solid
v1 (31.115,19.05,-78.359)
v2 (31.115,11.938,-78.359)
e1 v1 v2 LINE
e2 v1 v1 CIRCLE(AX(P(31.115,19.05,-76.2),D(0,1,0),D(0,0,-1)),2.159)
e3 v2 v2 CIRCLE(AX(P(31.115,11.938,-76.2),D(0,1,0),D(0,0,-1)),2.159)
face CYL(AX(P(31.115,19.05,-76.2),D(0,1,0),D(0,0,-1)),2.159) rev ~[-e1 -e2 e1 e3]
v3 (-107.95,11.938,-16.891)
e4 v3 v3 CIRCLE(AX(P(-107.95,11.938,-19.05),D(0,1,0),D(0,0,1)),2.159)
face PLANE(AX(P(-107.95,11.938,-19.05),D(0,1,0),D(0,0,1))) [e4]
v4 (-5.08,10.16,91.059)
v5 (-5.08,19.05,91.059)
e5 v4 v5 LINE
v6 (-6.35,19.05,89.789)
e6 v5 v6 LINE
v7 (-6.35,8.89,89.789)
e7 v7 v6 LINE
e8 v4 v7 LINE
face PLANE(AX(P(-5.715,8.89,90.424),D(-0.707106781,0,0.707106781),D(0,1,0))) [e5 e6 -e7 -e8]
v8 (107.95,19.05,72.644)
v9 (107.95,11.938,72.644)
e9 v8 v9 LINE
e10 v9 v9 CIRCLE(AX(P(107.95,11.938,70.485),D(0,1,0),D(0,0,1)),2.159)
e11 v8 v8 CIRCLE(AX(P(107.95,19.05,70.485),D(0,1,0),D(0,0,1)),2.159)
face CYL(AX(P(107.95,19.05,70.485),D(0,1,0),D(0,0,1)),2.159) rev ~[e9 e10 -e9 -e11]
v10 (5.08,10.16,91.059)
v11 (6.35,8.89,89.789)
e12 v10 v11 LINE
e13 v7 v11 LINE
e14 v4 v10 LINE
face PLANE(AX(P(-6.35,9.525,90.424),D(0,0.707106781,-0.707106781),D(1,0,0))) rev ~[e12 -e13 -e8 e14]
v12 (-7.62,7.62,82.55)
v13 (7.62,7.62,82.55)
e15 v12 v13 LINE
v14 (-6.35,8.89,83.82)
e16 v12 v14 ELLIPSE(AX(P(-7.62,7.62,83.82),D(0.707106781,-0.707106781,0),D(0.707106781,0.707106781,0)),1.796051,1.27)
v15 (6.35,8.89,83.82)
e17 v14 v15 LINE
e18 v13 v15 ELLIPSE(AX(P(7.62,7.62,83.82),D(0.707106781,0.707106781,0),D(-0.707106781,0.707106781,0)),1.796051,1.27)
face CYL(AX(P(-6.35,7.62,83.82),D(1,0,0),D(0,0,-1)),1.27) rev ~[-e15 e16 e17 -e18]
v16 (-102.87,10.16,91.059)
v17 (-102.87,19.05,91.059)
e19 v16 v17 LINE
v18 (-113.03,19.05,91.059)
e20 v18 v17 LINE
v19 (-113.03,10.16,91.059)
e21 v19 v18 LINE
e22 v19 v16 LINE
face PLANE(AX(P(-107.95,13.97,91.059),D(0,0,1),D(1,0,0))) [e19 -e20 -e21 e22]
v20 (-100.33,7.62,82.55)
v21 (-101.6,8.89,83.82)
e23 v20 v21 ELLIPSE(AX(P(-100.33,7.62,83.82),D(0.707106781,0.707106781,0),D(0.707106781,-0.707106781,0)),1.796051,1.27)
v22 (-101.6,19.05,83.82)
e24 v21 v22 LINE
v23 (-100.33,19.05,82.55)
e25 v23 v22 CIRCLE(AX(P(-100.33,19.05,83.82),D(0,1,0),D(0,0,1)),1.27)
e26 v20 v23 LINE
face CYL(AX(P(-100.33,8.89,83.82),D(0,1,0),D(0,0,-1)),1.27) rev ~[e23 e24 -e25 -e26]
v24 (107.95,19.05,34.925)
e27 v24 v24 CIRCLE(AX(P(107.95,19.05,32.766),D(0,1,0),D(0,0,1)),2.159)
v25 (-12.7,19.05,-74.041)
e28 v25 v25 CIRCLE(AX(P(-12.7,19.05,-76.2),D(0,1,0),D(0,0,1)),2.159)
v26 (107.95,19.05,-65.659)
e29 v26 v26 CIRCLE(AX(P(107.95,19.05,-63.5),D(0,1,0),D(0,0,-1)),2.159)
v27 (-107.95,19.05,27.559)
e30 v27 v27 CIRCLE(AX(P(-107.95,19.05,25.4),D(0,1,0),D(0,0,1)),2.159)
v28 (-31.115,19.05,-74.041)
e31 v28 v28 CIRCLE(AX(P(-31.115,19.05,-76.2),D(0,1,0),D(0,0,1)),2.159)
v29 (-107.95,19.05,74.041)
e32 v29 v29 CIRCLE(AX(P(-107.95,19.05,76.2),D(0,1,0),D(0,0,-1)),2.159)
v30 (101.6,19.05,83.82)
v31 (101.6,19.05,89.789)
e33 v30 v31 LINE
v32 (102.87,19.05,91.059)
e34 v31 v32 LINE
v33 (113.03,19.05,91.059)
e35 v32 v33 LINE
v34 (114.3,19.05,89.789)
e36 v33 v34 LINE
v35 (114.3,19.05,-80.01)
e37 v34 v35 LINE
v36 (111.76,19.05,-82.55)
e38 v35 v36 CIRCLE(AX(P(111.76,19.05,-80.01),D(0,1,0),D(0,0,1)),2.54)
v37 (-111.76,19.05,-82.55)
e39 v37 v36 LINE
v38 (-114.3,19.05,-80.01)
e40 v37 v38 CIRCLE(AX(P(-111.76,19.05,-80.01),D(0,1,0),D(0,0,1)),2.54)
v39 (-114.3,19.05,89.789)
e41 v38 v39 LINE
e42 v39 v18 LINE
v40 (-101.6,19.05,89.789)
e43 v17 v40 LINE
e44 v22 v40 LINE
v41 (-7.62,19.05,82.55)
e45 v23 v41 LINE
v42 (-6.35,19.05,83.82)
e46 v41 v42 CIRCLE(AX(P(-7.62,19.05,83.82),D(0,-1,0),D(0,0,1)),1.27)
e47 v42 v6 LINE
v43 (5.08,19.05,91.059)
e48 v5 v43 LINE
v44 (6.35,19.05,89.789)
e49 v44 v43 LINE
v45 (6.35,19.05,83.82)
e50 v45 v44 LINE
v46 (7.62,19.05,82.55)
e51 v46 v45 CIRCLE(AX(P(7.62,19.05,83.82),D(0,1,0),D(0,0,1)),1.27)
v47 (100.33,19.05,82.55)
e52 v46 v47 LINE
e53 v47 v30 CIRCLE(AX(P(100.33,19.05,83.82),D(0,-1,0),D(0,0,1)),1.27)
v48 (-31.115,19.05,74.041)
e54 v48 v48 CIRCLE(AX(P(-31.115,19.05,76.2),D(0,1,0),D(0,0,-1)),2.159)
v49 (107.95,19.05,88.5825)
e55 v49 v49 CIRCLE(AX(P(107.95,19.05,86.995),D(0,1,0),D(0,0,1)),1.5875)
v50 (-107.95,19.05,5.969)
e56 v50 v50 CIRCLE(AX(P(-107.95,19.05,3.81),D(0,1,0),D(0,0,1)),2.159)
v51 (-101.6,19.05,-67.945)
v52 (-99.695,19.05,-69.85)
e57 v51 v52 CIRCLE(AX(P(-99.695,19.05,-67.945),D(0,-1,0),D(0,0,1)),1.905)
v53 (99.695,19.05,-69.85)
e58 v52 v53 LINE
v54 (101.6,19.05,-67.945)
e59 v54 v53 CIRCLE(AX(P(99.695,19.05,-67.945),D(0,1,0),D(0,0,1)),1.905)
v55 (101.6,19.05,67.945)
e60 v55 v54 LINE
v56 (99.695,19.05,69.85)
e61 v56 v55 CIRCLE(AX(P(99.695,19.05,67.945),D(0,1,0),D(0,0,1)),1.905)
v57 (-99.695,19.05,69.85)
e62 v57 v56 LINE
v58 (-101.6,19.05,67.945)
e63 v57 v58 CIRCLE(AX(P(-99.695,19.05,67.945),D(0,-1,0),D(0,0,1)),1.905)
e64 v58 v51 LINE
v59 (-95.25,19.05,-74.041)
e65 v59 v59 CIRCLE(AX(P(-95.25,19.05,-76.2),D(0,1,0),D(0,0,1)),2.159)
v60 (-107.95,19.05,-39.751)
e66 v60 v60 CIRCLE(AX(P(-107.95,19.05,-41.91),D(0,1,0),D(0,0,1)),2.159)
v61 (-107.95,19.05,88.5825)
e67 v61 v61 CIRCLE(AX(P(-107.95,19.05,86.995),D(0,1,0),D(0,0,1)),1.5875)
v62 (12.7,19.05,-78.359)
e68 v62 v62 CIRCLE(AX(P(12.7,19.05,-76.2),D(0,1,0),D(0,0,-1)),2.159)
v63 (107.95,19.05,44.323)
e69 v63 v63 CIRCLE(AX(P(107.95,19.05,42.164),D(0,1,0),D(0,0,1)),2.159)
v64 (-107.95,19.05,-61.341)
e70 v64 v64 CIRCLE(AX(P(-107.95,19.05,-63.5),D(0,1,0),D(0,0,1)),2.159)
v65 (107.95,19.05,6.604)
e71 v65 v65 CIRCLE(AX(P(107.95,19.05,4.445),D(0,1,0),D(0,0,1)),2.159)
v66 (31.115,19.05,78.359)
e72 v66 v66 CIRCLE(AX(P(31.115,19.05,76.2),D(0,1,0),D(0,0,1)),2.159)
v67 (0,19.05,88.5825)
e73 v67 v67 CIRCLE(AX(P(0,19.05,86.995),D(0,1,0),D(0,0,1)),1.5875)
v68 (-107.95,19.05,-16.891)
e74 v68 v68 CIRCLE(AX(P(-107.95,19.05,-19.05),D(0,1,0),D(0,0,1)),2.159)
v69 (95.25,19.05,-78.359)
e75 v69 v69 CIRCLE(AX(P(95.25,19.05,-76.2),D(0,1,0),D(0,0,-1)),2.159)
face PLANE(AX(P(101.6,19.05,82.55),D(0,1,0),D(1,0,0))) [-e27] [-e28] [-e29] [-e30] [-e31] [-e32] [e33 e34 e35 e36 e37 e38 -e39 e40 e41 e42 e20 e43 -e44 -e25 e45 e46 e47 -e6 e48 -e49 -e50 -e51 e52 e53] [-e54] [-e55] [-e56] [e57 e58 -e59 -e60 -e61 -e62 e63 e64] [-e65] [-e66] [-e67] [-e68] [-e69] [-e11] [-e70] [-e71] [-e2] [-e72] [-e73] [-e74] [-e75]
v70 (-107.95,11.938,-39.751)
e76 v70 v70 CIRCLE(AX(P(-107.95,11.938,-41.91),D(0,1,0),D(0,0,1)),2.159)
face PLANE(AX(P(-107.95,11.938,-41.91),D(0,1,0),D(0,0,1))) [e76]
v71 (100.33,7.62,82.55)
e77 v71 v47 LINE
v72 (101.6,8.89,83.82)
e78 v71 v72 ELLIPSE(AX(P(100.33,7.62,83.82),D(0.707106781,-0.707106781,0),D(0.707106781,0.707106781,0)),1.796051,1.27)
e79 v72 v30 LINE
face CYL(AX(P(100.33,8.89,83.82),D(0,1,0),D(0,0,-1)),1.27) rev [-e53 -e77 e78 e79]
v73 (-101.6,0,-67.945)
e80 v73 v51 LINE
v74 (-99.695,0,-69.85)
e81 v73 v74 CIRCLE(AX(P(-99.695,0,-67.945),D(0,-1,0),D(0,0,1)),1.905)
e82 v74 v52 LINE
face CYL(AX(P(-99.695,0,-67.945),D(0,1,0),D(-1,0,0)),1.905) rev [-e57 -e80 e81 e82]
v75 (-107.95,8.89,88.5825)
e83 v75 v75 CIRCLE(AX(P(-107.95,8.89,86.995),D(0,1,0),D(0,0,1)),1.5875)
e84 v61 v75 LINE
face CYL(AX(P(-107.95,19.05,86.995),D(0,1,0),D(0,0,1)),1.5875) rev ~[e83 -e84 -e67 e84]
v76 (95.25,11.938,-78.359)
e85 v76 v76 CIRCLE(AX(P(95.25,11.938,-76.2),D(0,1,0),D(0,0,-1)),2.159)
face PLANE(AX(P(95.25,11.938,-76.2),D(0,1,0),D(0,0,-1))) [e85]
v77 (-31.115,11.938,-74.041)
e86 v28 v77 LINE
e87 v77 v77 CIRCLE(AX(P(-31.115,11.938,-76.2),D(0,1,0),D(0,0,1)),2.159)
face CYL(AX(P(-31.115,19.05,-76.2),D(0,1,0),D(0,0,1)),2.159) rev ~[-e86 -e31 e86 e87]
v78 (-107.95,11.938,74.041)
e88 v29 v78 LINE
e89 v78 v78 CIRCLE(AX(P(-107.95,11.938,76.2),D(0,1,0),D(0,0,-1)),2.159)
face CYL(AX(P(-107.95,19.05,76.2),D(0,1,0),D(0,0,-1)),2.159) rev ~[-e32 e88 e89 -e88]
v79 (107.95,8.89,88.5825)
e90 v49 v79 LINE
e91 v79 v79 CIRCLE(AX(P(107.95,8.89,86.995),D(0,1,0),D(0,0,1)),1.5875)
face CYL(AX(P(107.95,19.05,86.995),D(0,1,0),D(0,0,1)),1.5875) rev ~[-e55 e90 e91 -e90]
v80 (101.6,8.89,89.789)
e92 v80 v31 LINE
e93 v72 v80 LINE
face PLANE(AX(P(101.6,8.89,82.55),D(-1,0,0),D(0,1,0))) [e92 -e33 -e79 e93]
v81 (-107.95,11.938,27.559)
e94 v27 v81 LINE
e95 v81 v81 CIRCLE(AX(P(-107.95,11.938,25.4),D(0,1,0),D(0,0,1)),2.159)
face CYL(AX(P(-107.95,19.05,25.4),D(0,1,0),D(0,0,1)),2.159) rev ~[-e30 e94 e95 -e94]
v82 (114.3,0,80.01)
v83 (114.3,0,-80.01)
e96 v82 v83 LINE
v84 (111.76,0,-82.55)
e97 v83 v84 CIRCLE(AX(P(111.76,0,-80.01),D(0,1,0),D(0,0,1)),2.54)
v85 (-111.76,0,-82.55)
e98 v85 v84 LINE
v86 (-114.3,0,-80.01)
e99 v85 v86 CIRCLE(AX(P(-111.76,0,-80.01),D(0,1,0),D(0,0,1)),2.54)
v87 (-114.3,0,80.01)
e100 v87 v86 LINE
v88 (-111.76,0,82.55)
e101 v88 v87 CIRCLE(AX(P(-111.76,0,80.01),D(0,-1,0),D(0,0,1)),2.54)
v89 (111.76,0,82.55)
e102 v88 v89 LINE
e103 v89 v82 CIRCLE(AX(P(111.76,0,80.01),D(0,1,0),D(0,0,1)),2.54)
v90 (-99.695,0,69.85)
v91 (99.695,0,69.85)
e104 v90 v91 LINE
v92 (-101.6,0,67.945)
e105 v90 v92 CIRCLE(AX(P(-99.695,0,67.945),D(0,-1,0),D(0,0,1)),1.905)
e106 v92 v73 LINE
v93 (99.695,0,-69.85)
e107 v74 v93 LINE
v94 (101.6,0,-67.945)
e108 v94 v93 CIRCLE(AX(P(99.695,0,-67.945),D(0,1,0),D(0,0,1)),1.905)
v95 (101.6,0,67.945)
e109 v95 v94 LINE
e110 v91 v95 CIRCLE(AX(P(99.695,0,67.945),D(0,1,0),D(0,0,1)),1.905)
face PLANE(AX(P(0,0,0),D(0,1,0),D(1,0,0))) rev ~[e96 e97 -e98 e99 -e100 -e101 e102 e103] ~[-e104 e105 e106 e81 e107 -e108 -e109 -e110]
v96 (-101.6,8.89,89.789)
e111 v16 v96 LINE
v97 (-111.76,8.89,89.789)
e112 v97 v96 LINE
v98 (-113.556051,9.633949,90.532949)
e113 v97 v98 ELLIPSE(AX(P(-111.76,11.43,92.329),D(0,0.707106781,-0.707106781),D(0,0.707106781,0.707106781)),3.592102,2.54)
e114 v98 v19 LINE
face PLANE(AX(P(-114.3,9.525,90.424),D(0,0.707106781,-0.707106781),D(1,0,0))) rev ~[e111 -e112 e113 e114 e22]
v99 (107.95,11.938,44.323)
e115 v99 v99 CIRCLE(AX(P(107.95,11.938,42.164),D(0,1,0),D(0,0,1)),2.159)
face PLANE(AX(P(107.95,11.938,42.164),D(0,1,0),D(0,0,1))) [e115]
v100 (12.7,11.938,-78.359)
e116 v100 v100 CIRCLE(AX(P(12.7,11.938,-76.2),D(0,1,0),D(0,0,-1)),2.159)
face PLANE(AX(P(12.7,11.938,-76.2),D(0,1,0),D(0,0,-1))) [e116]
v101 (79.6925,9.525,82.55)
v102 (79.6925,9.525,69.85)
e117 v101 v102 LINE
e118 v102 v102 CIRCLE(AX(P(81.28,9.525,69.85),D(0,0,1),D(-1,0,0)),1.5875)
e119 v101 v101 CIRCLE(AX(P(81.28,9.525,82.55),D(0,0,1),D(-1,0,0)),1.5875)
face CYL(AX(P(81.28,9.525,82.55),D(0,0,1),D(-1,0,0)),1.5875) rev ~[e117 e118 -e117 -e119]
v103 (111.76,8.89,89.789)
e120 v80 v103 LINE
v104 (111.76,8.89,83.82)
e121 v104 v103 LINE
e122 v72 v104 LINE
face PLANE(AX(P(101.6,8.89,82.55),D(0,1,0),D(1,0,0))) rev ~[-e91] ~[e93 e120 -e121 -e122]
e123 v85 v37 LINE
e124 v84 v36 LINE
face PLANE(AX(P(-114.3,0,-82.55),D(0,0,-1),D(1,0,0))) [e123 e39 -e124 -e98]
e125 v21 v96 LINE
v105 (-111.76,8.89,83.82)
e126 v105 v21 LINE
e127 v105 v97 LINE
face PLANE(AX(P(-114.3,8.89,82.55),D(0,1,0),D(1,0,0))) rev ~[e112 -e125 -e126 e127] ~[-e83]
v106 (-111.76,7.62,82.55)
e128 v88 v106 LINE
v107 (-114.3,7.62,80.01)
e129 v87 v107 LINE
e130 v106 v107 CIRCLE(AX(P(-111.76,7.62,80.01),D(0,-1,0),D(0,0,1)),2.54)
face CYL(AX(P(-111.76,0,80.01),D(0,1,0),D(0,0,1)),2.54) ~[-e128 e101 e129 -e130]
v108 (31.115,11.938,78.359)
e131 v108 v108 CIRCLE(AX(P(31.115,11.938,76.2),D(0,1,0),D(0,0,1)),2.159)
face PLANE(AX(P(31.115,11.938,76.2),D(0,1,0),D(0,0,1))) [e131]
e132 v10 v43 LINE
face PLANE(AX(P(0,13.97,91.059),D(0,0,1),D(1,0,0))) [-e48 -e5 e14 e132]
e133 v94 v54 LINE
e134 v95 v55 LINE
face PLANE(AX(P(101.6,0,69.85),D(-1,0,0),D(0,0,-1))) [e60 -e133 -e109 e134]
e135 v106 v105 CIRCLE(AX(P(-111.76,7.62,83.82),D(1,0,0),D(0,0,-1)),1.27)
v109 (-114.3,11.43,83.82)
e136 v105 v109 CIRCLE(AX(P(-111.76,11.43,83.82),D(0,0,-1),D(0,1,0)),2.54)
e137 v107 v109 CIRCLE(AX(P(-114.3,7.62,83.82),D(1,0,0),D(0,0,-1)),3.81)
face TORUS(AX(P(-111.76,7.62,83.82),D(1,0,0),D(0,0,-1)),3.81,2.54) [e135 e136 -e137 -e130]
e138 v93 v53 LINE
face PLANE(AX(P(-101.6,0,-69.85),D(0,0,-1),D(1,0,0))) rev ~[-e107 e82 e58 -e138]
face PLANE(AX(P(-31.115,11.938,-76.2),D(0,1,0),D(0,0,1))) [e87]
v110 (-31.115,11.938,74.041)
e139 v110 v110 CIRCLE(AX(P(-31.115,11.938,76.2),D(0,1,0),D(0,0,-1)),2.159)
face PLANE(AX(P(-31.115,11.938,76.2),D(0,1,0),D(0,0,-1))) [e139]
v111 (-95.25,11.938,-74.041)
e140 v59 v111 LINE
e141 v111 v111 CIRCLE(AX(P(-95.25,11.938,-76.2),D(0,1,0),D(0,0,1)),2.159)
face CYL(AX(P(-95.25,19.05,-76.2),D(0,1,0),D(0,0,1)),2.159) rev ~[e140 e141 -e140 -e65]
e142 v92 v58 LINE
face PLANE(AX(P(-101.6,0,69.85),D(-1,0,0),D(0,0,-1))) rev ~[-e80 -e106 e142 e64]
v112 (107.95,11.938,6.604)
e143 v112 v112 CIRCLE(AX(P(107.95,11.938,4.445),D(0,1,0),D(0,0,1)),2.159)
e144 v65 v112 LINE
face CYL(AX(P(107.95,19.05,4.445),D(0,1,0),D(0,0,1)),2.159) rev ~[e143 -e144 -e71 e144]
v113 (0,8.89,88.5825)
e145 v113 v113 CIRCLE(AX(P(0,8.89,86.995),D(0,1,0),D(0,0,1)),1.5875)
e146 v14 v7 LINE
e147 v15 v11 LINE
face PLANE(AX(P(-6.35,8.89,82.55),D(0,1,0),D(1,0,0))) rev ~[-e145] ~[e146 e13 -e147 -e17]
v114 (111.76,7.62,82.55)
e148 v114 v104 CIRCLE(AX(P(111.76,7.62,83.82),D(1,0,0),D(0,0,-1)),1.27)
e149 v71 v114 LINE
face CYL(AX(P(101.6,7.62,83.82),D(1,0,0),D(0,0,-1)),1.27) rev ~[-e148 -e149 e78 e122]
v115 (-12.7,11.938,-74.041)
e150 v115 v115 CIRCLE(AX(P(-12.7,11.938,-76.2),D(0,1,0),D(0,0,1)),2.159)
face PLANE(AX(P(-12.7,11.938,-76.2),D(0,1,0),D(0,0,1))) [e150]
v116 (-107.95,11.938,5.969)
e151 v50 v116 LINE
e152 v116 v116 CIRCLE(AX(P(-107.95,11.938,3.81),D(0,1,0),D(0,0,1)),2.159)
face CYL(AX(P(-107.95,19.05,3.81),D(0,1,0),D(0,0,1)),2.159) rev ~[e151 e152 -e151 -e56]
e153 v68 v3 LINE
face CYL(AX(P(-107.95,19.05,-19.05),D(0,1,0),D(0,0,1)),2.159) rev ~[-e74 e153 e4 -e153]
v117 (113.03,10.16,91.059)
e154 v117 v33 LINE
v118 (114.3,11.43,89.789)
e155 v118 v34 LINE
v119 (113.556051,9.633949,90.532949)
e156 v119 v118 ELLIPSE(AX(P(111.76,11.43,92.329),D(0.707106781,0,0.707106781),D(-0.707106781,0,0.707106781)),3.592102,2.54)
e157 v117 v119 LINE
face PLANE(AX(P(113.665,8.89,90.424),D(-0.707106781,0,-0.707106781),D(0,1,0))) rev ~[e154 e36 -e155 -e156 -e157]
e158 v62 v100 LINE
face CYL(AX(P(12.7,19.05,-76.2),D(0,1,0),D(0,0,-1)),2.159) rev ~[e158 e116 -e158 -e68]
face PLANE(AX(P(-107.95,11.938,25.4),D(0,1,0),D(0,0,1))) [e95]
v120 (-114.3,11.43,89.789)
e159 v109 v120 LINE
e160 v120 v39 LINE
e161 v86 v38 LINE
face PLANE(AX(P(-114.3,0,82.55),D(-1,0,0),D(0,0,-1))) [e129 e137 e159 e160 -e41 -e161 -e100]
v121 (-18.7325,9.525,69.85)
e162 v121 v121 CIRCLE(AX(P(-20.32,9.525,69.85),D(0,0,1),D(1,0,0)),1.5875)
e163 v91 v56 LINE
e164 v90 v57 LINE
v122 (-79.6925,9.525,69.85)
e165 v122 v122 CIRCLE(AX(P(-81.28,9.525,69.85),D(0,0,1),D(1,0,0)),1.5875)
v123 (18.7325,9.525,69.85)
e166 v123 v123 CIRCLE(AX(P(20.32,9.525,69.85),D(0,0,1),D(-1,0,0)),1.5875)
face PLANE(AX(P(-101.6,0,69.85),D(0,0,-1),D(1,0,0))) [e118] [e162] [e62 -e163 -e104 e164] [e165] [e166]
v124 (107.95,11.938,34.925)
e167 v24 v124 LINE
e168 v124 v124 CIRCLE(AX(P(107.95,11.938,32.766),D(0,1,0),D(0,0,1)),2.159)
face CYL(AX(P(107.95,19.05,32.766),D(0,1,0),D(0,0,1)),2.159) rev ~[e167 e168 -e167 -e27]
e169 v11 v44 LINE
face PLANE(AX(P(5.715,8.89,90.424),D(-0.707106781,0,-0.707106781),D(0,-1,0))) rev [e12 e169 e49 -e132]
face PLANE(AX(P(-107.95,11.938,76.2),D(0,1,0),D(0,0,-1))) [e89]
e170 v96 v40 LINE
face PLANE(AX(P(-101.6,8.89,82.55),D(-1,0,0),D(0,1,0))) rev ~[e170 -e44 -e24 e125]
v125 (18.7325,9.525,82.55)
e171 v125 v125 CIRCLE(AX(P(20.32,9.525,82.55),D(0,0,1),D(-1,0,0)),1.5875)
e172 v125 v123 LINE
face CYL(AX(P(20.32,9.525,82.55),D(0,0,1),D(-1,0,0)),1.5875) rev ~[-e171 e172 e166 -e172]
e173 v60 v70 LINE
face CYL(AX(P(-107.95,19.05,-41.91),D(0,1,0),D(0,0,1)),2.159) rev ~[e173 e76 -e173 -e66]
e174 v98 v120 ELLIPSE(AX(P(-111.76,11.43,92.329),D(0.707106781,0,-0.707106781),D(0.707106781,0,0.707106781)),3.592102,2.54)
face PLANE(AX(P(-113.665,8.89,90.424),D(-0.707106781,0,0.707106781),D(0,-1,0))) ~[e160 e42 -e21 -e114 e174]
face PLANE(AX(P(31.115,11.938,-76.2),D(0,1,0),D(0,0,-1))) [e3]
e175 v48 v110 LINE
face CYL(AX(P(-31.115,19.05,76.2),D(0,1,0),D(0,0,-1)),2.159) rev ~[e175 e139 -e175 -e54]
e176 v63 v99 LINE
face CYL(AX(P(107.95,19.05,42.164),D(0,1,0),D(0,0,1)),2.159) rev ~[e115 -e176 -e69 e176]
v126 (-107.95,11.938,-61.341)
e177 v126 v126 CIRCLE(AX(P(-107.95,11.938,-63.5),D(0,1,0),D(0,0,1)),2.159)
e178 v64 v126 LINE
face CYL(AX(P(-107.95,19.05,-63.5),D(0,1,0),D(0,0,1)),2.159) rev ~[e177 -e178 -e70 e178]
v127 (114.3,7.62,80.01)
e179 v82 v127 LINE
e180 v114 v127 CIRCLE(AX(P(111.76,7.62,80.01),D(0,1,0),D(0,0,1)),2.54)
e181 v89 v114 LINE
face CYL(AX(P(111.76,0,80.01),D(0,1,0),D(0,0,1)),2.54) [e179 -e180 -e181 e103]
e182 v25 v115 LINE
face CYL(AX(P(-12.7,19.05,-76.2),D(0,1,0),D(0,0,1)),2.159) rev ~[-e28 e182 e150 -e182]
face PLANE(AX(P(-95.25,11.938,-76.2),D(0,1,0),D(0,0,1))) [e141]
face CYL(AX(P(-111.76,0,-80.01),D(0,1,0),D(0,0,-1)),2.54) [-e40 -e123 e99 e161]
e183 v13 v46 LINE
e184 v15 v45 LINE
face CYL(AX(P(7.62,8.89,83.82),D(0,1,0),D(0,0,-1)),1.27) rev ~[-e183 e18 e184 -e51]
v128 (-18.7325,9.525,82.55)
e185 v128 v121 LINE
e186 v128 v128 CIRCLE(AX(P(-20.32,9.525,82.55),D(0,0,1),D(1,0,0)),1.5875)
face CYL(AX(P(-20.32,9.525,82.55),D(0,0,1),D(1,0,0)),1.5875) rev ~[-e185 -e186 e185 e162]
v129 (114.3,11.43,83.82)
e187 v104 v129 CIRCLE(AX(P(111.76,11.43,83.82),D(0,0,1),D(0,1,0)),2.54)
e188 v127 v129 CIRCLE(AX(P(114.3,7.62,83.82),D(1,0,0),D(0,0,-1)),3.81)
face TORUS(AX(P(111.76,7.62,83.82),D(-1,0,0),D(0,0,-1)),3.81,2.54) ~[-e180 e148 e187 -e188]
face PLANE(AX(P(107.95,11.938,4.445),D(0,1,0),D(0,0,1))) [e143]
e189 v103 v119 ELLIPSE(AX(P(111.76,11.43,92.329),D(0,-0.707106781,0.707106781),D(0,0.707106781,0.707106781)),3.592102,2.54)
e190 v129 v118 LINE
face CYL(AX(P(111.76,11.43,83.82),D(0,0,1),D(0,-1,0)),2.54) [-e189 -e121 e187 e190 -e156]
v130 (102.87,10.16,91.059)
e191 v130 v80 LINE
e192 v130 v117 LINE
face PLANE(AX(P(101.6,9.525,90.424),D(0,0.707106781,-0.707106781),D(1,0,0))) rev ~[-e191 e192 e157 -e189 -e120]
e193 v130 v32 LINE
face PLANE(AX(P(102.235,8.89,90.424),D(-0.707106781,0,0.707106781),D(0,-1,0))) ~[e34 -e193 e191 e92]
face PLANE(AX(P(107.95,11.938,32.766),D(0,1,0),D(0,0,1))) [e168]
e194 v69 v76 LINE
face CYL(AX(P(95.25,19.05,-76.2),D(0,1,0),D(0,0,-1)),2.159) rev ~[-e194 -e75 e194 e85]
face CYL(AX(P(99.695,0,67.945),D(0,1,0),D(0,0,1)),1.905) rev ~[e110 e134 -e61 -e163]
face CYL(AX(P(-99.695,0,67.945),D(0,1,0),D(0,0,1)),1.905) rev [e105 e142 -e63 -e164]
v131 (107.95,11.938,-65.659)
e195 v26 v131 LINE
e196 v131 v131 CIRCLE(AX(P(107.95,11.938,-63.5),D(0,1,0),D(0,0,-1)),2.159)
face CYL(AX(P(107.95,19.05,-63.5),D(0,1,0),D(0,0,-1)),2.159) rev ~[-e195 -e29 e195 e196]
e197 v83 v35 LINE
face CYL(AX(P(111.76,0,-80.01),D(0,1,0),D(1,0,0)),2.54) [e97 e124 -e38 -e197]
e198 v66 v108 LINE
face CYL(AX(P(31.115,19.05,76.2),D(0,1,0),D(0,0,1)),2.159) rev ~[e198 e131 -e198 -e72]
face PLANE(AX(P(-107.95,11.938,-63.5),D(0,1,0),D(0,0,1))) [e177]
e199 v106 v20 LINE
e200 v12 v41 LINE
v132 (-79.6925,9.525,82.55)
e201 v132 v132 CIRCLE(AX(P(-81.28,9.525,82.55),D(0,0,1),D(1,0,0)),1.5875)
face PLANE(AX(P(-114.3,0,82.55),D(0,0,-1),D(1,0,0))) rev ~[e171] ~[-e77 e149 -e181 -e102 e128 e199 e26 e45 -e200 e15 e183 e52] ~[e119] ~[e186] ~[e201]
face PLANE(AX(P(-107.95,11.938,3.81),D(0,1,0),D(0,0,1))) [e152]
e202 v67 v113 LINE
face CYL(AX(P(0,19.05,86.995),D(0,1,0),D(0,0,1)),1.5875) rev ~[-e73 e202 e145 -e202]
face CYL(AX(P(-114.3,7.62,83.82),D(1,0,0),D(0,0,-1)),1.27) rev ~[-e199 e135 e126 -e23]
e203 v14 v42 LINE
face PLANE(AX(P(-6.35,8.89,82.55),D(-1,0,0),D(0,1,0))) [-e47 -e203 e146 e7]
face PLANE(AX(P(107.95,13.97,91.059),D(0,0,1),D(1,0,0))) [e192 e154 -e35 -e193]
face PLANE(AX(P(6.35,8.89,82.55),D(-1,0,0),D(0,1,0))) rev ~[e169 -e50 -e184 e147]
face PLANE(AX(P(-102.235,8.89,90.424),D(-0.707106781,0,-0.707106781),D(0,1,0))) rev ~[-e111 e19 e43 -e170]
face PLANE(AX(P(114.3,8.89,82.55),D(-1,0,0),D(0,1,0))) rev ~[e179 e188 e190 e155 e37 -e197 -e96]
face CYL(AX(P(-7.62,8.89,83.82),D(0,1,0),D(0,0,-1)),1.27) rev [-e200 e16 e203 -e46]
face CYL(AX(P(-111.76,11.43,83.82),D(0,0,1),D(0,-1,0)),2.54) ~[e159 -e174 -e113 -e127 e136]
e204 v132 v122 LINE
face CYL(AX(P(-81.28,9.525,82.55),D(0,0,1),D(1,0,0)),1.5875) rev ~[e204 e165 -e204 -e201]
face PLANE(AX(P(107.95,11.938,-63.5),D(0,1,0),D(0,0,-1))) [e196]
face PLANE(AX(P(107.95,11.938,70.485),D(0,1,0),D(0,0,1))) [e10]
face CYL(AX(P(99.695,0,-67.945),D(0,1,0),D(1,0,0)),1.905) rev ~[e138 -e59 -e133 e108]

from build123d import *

# Parameters (mm, degrees)
SKETCH1_W                        = 228.6
SKETCH1_H                        = 165.1
SKETCH1_W_2                      = 203.2
SKETCH1_H_2                      = 139.7
FRAME_DEPTH                      = 19.05
SKETCH2_R                        = 2.159
FRONTWALL_MOUNTINGHOLES_DEPTH    = 7.112
SKETCH3_W                        = 12.7
SKETCH3_H                        = 10.16
BOSS_EXTRUDE2_DEPTH              = 8.89
SKETCH4_R                        = 1.5875
CUT_EXTRUDE2_DEPTH               = 148.609844184
SKETCH5_R                        = 1.5875
CUT_EXTRUDE3_DEPTH               = 12.7
FILLET3_R                        = 1.905
SKETCH6_R                        = 2.159
LINKAGE_RHS_MOUNTINGHOLES_DEPTH  = 7.112
SKETCH7_R                        = 2.159
LINKAGE_LHS_MOUNTINGHOLES_DEPTH  = 7.112
SKETCH11_W                       = 12.7
SKETCH11_H                       = 10.16
CUT_EXTRUDE6_DEPTH               = 0.381
FILLET2_R                        = 1.27
CHAMFER1_SIZE                    = 1.27
SKETCH12_R                       = 2.159
CASTER_WHEEL_MOUNT_DEPTH         = 7.112
SKETCH13_R                       = 2.159
FRONTBRACE_MOUNT_DEPTH           = 7.112
SKETCH14_R                       = 2.159
USB_HUB_SWITCH_MOUNT_HOLES_DEPTH = 7.112
FILLET4_R                        = 2.54


with BuildPart() as part:
    # Sketch1 → Frame (new body)
    with BuildSketch(Plane(origin=(0, 0, 0), x_dir=(1, 0, 0), z_dir=(0, 1, 0))):
        Rectangle(SKETCH1_W, SKETCH1_H)
        Rectangle(SKETCH1_W_2, SKETCH1_H_2, mode=Mode.SUBTRACT)
    extrude(amount=FRAME_DEPTH)

    # Sketch2 → FrontWall_mountingHoles (cut)
    with BuildSketch(Plane(origin=(0, 19.05, 0), x_dir=(1, 0, 0), z_dir=(0, 1, 0))):
        with Locations(Location((-95.25, 76.2, 0), (0, 0, 270))):
            Circle(SKETCH2_R)
        with Locations(Location((-107.95, 63.5, 0), (0, 0, 270))):
            Circle(SKETCH2_R)
        with Locations(Location((95.25, 76.2, 0), (0, 0, 90))):
            Circle(SKETCH2_R)
        with Locations(Location((107.95, 63.5, 0), (0, 0, 90))):
            Circle(SKETCH2_R)
    extrude(amount=-FRONTWALL_MOUNTINGHOLES_DEPTH, mode=Mode.SUBTRACT)

    # Sketch3 → Boss-Extrude2 (add)
    with BuildSketch(Plane.XY.offset(82.55)):
        with Locations((107.95, 13.97)):
            Rectangle(SKETCH3_W, SKETCH3_H)
        with Locations((0, 13.97)):
            Rectangle(SKETCH3_W, SKETCH3_H)
        with Locations((-107.95, 13.97)):
            Rectangle(SKETCH3_W, SKETCH3_H)
    extrude(amount=BOSS_EXTRUDE2_DEPTH)

    # Sketch4 → Cut-Extrude2 (cut, through all)
    with BuildSketch(Plane(origin=(0, 19.05, 0), x_dir=(1, 0, 0), z_dir=(0, 1, 0))):
        with Locations(Location((-107.95, -86.995, 0), (0, 0, 270))):
            Circle(SKETCH4_R)
        with Locations(Location((0, -86.995, 0), (0, 0, 270))):
            Circle(SKETCH4_R)
        with Locations(Location((107.95, -86.995, 0), (0, 0, 270))):
            Circle(SKETCH4_R)
    extrude(amount=-CUT_EXTRUDE2_DEPTH, mode=Mode.SUBTRACT)

    # Sketch5 → Cut-Extrude3 (cut)
    with BuildSketch(Plane.XY.offset(82.55)):
        with Locations((-20.32, 9.525)):
            Circle(SKETCH5_R)
        with Locations((-81.28, 9.525)):
            Circle(SKETCH5_R)
        with Locations(Location((81.28, 9.525, 0), (0, 0, 180))):
            Circle(SKETCH5_R)
        with Locations(Location((20.32, 9.525, 0), (0, 0, 180))):
            Circle(SKETCH5_R)
    extrude(amount=-CUT_EXTRUDE3_DEPTH, mode=Mode.SUBTRACT)

    # Fillet3
    fillet3_edges = [part.edges().sort_by_distance(p)[0] for p in [
        (101.6, 9.525, 69.85),
        (101.6, 9.525, -69.85),
        (-101.6, 9.525, -69.85),
        (-101.6, 9.525, 69.85),
    ]]
    fillet(fillet3_edges, radius=FILLET3_R)

    # Sketch6 → Linkage_RHS_MountingHoles (cut)
    with BuildSketch(Plane(origin=(0, 19.05, 0), x_dir=(1, 0, 0), z_dir=(0, 1, 0))):
        with Locations(Location((107.95, -4.445, 0), (0, 0, 270))):
            Circle(SKETCH6_R)
        with Locations(Location((107.95, -32.766, 0), (0, 0, 270))):
            Circle(SKETCH6_R)
        with Locations(Location((107.95, -42.164, 0), (0, 0, 270))):
            Circle(SKETCH6_R)
        with Locations(Location((107.95, -70.485, 0), (0, 0, 270))):
            Circle(SKETCH6_R)
    extrude(amount=-LINKAGE_RHS_MOUNTINGHOLES_DEPTH, mode=Mode.SUBTRACT)

    # Sketch7 → Linkage-LHS-MountingHoles (cut)
    with BuildSketch(Plane(origin=(0, 19.05, 0), x_dir=(1, 0, 0), z_dir=(0, 1, 0))):
        with Locations(Location((-107.95, 41.91, 0), (0, 0, 270))):
            Circle(SKETCH7_R)
        with Locations(Location((-107.95, 19.05, 0), (0, 0, 270))):
            Circle(SKETCH7_R)
        with Locations(Location((-107.95, -3.81, 0), (0, 0, 270))):
            Circle(SKETCH7_R)
    extrude(amount=-LINKAGE_LHS_MOUNTINGHOLES_DEPTH, mode=Mode.SUBTRACT)

    # Sketch11 → Cut-Extrude6 (cut)
    with BuildSketch(Plane.XY.offset(91.44)):
        with Locations((-107.95, 13.97)):
            Rectangle(SKETCH11_W, SKETCH11_H)
        with Locations((0, 13.97)):
            Rectangle(SKETCH11_W, SKETCH11_H)
        with Locations((107.95, 13.97)):
            Rectangle(SKETCH11_W, SKETCH11_H)
    extrude(amount=-CUT_EXTRUDE6_DEPTH, mode=Mode.SUBTRACT)

    # Fillet2
    fillet2_edges = [part.edges().sort_by_distance(p)[0] for p in [
        (101.6, 13.97, 82.55),
        (107.95, 8.89, 82.55),
        (-107.95, 8.89, 82.55),
        (-101.6, 13.97, 82.55),
        (6.35, 13.97, 82.55),
        (-6.35, 13.97, 82.55),
        (0, 8.89, 82.55),
    ]]
    fillet(fillet2_edges, radius=FILLET2_R)

    # Chamfer1
    chamfer1_edges = [part.edges().sort_by_distance(p)[0] for p in [
        (-114.3, 13.97, 91.059),
        (-101.6, 13.97, 91.059),
        (-107.95, 8.89, 91.059),
        (0, 8.89, 91.059),
        (-6.35, 13.97, 91.059),
        (6.35, 13.97, 91.059),
        (107.95, 8.89, 91.059),
        (101.6, 13.97, 91.059),
        (114.3, 13.97, 91.059),
    ]]
    chamfer(chamfer1_edges, length=CHAMFER1_SIZE)

    # Sketch12 → Caster_Wheel_Mount (cut)
    with BuildSketch(Plane(origin=(0, 19.05, 0), x_dir=(1, 0, 0), z_dir=(0, 1, 0))):
        with Locations(Location((-31.115, 76.2, 0), (0, 0, 270))):
            Circle(SKETCH12_R)
        with Locations(Location((31.115, 76.2, 0), (0, 0, 90))):
            Circle(SKETCH12_R)
        with Locations(Location((31.115, -76.2, 0), (0, 0, 270))):
            Circle(SKETCH12_R)
        with Locations(Location((-31.115, -76.2, 0), (0, 0, 90))):
            Circle(SKETCH12_R)
    extrude(amount=-CASTER_WHEEL_MOUNT_DEPTH, mode=Mode.SUBTRACT)

    # Sketch13 → FrontBrace_Mount (cut)
    with BuildSketch(Plane(origin=(0, 19.05, 0), x_dir=(1, 0, 0), z_dir=(0, 1, 0))):
        with Locations(Location((-12.7, 76.2, 0), (0, 0, 270))):
            Circle(SKETCH13_R)
        with Locations(Location((12.7, 76.2, 0), (0, 0, 90))):
            Circle(SKETCH13_R)
    extrude(amount=-FRONTBRACE_MOUNT_DEPTH, mode=Mode.SUBTRACT)

    # Sketch14 → USB_HUB_Switch_Mount_Holes (cut)
    with BuildSketch(Plane(origin=(0, 19.05, 0), x_dir=(1, 0, 0), z_dir=(0, 1, 0))):
        with Locations(Location((-107.95, -25.4, 0), (0, 0, 270))):
            Circle(SKETCH14_R)
        with Locations(Location((-107.95, -76.2, 0), (0, 0, 90))):
            Circle(SKETCH14_R)
    extrude(amount=-USB_HUB_SWITCH_MOUNT_HOLES_DEPTH, mode=Mode.SUBTRACT)

    # Fillet4
    fillet4_edges = [part.edges().sort_by_distance(p)[0] for p in [
        (-114.3, 3.81, 82.55),
        (114.3, 3.81, 82.55),
        (114.3, 8.518025612, 82.921974388),
        (-114.3, 8.518025612, 82.921974388),
        (114.3, 8.89, 86.8045),
        (-114.3, 8.89, 86.8045),
        (-114.3, 9.525, -82.55),
        (114.3, 9.525, -82.55),
    ]]
    fillet(fillet4_edges, radius=FILLET4_R)


solid = part.part
